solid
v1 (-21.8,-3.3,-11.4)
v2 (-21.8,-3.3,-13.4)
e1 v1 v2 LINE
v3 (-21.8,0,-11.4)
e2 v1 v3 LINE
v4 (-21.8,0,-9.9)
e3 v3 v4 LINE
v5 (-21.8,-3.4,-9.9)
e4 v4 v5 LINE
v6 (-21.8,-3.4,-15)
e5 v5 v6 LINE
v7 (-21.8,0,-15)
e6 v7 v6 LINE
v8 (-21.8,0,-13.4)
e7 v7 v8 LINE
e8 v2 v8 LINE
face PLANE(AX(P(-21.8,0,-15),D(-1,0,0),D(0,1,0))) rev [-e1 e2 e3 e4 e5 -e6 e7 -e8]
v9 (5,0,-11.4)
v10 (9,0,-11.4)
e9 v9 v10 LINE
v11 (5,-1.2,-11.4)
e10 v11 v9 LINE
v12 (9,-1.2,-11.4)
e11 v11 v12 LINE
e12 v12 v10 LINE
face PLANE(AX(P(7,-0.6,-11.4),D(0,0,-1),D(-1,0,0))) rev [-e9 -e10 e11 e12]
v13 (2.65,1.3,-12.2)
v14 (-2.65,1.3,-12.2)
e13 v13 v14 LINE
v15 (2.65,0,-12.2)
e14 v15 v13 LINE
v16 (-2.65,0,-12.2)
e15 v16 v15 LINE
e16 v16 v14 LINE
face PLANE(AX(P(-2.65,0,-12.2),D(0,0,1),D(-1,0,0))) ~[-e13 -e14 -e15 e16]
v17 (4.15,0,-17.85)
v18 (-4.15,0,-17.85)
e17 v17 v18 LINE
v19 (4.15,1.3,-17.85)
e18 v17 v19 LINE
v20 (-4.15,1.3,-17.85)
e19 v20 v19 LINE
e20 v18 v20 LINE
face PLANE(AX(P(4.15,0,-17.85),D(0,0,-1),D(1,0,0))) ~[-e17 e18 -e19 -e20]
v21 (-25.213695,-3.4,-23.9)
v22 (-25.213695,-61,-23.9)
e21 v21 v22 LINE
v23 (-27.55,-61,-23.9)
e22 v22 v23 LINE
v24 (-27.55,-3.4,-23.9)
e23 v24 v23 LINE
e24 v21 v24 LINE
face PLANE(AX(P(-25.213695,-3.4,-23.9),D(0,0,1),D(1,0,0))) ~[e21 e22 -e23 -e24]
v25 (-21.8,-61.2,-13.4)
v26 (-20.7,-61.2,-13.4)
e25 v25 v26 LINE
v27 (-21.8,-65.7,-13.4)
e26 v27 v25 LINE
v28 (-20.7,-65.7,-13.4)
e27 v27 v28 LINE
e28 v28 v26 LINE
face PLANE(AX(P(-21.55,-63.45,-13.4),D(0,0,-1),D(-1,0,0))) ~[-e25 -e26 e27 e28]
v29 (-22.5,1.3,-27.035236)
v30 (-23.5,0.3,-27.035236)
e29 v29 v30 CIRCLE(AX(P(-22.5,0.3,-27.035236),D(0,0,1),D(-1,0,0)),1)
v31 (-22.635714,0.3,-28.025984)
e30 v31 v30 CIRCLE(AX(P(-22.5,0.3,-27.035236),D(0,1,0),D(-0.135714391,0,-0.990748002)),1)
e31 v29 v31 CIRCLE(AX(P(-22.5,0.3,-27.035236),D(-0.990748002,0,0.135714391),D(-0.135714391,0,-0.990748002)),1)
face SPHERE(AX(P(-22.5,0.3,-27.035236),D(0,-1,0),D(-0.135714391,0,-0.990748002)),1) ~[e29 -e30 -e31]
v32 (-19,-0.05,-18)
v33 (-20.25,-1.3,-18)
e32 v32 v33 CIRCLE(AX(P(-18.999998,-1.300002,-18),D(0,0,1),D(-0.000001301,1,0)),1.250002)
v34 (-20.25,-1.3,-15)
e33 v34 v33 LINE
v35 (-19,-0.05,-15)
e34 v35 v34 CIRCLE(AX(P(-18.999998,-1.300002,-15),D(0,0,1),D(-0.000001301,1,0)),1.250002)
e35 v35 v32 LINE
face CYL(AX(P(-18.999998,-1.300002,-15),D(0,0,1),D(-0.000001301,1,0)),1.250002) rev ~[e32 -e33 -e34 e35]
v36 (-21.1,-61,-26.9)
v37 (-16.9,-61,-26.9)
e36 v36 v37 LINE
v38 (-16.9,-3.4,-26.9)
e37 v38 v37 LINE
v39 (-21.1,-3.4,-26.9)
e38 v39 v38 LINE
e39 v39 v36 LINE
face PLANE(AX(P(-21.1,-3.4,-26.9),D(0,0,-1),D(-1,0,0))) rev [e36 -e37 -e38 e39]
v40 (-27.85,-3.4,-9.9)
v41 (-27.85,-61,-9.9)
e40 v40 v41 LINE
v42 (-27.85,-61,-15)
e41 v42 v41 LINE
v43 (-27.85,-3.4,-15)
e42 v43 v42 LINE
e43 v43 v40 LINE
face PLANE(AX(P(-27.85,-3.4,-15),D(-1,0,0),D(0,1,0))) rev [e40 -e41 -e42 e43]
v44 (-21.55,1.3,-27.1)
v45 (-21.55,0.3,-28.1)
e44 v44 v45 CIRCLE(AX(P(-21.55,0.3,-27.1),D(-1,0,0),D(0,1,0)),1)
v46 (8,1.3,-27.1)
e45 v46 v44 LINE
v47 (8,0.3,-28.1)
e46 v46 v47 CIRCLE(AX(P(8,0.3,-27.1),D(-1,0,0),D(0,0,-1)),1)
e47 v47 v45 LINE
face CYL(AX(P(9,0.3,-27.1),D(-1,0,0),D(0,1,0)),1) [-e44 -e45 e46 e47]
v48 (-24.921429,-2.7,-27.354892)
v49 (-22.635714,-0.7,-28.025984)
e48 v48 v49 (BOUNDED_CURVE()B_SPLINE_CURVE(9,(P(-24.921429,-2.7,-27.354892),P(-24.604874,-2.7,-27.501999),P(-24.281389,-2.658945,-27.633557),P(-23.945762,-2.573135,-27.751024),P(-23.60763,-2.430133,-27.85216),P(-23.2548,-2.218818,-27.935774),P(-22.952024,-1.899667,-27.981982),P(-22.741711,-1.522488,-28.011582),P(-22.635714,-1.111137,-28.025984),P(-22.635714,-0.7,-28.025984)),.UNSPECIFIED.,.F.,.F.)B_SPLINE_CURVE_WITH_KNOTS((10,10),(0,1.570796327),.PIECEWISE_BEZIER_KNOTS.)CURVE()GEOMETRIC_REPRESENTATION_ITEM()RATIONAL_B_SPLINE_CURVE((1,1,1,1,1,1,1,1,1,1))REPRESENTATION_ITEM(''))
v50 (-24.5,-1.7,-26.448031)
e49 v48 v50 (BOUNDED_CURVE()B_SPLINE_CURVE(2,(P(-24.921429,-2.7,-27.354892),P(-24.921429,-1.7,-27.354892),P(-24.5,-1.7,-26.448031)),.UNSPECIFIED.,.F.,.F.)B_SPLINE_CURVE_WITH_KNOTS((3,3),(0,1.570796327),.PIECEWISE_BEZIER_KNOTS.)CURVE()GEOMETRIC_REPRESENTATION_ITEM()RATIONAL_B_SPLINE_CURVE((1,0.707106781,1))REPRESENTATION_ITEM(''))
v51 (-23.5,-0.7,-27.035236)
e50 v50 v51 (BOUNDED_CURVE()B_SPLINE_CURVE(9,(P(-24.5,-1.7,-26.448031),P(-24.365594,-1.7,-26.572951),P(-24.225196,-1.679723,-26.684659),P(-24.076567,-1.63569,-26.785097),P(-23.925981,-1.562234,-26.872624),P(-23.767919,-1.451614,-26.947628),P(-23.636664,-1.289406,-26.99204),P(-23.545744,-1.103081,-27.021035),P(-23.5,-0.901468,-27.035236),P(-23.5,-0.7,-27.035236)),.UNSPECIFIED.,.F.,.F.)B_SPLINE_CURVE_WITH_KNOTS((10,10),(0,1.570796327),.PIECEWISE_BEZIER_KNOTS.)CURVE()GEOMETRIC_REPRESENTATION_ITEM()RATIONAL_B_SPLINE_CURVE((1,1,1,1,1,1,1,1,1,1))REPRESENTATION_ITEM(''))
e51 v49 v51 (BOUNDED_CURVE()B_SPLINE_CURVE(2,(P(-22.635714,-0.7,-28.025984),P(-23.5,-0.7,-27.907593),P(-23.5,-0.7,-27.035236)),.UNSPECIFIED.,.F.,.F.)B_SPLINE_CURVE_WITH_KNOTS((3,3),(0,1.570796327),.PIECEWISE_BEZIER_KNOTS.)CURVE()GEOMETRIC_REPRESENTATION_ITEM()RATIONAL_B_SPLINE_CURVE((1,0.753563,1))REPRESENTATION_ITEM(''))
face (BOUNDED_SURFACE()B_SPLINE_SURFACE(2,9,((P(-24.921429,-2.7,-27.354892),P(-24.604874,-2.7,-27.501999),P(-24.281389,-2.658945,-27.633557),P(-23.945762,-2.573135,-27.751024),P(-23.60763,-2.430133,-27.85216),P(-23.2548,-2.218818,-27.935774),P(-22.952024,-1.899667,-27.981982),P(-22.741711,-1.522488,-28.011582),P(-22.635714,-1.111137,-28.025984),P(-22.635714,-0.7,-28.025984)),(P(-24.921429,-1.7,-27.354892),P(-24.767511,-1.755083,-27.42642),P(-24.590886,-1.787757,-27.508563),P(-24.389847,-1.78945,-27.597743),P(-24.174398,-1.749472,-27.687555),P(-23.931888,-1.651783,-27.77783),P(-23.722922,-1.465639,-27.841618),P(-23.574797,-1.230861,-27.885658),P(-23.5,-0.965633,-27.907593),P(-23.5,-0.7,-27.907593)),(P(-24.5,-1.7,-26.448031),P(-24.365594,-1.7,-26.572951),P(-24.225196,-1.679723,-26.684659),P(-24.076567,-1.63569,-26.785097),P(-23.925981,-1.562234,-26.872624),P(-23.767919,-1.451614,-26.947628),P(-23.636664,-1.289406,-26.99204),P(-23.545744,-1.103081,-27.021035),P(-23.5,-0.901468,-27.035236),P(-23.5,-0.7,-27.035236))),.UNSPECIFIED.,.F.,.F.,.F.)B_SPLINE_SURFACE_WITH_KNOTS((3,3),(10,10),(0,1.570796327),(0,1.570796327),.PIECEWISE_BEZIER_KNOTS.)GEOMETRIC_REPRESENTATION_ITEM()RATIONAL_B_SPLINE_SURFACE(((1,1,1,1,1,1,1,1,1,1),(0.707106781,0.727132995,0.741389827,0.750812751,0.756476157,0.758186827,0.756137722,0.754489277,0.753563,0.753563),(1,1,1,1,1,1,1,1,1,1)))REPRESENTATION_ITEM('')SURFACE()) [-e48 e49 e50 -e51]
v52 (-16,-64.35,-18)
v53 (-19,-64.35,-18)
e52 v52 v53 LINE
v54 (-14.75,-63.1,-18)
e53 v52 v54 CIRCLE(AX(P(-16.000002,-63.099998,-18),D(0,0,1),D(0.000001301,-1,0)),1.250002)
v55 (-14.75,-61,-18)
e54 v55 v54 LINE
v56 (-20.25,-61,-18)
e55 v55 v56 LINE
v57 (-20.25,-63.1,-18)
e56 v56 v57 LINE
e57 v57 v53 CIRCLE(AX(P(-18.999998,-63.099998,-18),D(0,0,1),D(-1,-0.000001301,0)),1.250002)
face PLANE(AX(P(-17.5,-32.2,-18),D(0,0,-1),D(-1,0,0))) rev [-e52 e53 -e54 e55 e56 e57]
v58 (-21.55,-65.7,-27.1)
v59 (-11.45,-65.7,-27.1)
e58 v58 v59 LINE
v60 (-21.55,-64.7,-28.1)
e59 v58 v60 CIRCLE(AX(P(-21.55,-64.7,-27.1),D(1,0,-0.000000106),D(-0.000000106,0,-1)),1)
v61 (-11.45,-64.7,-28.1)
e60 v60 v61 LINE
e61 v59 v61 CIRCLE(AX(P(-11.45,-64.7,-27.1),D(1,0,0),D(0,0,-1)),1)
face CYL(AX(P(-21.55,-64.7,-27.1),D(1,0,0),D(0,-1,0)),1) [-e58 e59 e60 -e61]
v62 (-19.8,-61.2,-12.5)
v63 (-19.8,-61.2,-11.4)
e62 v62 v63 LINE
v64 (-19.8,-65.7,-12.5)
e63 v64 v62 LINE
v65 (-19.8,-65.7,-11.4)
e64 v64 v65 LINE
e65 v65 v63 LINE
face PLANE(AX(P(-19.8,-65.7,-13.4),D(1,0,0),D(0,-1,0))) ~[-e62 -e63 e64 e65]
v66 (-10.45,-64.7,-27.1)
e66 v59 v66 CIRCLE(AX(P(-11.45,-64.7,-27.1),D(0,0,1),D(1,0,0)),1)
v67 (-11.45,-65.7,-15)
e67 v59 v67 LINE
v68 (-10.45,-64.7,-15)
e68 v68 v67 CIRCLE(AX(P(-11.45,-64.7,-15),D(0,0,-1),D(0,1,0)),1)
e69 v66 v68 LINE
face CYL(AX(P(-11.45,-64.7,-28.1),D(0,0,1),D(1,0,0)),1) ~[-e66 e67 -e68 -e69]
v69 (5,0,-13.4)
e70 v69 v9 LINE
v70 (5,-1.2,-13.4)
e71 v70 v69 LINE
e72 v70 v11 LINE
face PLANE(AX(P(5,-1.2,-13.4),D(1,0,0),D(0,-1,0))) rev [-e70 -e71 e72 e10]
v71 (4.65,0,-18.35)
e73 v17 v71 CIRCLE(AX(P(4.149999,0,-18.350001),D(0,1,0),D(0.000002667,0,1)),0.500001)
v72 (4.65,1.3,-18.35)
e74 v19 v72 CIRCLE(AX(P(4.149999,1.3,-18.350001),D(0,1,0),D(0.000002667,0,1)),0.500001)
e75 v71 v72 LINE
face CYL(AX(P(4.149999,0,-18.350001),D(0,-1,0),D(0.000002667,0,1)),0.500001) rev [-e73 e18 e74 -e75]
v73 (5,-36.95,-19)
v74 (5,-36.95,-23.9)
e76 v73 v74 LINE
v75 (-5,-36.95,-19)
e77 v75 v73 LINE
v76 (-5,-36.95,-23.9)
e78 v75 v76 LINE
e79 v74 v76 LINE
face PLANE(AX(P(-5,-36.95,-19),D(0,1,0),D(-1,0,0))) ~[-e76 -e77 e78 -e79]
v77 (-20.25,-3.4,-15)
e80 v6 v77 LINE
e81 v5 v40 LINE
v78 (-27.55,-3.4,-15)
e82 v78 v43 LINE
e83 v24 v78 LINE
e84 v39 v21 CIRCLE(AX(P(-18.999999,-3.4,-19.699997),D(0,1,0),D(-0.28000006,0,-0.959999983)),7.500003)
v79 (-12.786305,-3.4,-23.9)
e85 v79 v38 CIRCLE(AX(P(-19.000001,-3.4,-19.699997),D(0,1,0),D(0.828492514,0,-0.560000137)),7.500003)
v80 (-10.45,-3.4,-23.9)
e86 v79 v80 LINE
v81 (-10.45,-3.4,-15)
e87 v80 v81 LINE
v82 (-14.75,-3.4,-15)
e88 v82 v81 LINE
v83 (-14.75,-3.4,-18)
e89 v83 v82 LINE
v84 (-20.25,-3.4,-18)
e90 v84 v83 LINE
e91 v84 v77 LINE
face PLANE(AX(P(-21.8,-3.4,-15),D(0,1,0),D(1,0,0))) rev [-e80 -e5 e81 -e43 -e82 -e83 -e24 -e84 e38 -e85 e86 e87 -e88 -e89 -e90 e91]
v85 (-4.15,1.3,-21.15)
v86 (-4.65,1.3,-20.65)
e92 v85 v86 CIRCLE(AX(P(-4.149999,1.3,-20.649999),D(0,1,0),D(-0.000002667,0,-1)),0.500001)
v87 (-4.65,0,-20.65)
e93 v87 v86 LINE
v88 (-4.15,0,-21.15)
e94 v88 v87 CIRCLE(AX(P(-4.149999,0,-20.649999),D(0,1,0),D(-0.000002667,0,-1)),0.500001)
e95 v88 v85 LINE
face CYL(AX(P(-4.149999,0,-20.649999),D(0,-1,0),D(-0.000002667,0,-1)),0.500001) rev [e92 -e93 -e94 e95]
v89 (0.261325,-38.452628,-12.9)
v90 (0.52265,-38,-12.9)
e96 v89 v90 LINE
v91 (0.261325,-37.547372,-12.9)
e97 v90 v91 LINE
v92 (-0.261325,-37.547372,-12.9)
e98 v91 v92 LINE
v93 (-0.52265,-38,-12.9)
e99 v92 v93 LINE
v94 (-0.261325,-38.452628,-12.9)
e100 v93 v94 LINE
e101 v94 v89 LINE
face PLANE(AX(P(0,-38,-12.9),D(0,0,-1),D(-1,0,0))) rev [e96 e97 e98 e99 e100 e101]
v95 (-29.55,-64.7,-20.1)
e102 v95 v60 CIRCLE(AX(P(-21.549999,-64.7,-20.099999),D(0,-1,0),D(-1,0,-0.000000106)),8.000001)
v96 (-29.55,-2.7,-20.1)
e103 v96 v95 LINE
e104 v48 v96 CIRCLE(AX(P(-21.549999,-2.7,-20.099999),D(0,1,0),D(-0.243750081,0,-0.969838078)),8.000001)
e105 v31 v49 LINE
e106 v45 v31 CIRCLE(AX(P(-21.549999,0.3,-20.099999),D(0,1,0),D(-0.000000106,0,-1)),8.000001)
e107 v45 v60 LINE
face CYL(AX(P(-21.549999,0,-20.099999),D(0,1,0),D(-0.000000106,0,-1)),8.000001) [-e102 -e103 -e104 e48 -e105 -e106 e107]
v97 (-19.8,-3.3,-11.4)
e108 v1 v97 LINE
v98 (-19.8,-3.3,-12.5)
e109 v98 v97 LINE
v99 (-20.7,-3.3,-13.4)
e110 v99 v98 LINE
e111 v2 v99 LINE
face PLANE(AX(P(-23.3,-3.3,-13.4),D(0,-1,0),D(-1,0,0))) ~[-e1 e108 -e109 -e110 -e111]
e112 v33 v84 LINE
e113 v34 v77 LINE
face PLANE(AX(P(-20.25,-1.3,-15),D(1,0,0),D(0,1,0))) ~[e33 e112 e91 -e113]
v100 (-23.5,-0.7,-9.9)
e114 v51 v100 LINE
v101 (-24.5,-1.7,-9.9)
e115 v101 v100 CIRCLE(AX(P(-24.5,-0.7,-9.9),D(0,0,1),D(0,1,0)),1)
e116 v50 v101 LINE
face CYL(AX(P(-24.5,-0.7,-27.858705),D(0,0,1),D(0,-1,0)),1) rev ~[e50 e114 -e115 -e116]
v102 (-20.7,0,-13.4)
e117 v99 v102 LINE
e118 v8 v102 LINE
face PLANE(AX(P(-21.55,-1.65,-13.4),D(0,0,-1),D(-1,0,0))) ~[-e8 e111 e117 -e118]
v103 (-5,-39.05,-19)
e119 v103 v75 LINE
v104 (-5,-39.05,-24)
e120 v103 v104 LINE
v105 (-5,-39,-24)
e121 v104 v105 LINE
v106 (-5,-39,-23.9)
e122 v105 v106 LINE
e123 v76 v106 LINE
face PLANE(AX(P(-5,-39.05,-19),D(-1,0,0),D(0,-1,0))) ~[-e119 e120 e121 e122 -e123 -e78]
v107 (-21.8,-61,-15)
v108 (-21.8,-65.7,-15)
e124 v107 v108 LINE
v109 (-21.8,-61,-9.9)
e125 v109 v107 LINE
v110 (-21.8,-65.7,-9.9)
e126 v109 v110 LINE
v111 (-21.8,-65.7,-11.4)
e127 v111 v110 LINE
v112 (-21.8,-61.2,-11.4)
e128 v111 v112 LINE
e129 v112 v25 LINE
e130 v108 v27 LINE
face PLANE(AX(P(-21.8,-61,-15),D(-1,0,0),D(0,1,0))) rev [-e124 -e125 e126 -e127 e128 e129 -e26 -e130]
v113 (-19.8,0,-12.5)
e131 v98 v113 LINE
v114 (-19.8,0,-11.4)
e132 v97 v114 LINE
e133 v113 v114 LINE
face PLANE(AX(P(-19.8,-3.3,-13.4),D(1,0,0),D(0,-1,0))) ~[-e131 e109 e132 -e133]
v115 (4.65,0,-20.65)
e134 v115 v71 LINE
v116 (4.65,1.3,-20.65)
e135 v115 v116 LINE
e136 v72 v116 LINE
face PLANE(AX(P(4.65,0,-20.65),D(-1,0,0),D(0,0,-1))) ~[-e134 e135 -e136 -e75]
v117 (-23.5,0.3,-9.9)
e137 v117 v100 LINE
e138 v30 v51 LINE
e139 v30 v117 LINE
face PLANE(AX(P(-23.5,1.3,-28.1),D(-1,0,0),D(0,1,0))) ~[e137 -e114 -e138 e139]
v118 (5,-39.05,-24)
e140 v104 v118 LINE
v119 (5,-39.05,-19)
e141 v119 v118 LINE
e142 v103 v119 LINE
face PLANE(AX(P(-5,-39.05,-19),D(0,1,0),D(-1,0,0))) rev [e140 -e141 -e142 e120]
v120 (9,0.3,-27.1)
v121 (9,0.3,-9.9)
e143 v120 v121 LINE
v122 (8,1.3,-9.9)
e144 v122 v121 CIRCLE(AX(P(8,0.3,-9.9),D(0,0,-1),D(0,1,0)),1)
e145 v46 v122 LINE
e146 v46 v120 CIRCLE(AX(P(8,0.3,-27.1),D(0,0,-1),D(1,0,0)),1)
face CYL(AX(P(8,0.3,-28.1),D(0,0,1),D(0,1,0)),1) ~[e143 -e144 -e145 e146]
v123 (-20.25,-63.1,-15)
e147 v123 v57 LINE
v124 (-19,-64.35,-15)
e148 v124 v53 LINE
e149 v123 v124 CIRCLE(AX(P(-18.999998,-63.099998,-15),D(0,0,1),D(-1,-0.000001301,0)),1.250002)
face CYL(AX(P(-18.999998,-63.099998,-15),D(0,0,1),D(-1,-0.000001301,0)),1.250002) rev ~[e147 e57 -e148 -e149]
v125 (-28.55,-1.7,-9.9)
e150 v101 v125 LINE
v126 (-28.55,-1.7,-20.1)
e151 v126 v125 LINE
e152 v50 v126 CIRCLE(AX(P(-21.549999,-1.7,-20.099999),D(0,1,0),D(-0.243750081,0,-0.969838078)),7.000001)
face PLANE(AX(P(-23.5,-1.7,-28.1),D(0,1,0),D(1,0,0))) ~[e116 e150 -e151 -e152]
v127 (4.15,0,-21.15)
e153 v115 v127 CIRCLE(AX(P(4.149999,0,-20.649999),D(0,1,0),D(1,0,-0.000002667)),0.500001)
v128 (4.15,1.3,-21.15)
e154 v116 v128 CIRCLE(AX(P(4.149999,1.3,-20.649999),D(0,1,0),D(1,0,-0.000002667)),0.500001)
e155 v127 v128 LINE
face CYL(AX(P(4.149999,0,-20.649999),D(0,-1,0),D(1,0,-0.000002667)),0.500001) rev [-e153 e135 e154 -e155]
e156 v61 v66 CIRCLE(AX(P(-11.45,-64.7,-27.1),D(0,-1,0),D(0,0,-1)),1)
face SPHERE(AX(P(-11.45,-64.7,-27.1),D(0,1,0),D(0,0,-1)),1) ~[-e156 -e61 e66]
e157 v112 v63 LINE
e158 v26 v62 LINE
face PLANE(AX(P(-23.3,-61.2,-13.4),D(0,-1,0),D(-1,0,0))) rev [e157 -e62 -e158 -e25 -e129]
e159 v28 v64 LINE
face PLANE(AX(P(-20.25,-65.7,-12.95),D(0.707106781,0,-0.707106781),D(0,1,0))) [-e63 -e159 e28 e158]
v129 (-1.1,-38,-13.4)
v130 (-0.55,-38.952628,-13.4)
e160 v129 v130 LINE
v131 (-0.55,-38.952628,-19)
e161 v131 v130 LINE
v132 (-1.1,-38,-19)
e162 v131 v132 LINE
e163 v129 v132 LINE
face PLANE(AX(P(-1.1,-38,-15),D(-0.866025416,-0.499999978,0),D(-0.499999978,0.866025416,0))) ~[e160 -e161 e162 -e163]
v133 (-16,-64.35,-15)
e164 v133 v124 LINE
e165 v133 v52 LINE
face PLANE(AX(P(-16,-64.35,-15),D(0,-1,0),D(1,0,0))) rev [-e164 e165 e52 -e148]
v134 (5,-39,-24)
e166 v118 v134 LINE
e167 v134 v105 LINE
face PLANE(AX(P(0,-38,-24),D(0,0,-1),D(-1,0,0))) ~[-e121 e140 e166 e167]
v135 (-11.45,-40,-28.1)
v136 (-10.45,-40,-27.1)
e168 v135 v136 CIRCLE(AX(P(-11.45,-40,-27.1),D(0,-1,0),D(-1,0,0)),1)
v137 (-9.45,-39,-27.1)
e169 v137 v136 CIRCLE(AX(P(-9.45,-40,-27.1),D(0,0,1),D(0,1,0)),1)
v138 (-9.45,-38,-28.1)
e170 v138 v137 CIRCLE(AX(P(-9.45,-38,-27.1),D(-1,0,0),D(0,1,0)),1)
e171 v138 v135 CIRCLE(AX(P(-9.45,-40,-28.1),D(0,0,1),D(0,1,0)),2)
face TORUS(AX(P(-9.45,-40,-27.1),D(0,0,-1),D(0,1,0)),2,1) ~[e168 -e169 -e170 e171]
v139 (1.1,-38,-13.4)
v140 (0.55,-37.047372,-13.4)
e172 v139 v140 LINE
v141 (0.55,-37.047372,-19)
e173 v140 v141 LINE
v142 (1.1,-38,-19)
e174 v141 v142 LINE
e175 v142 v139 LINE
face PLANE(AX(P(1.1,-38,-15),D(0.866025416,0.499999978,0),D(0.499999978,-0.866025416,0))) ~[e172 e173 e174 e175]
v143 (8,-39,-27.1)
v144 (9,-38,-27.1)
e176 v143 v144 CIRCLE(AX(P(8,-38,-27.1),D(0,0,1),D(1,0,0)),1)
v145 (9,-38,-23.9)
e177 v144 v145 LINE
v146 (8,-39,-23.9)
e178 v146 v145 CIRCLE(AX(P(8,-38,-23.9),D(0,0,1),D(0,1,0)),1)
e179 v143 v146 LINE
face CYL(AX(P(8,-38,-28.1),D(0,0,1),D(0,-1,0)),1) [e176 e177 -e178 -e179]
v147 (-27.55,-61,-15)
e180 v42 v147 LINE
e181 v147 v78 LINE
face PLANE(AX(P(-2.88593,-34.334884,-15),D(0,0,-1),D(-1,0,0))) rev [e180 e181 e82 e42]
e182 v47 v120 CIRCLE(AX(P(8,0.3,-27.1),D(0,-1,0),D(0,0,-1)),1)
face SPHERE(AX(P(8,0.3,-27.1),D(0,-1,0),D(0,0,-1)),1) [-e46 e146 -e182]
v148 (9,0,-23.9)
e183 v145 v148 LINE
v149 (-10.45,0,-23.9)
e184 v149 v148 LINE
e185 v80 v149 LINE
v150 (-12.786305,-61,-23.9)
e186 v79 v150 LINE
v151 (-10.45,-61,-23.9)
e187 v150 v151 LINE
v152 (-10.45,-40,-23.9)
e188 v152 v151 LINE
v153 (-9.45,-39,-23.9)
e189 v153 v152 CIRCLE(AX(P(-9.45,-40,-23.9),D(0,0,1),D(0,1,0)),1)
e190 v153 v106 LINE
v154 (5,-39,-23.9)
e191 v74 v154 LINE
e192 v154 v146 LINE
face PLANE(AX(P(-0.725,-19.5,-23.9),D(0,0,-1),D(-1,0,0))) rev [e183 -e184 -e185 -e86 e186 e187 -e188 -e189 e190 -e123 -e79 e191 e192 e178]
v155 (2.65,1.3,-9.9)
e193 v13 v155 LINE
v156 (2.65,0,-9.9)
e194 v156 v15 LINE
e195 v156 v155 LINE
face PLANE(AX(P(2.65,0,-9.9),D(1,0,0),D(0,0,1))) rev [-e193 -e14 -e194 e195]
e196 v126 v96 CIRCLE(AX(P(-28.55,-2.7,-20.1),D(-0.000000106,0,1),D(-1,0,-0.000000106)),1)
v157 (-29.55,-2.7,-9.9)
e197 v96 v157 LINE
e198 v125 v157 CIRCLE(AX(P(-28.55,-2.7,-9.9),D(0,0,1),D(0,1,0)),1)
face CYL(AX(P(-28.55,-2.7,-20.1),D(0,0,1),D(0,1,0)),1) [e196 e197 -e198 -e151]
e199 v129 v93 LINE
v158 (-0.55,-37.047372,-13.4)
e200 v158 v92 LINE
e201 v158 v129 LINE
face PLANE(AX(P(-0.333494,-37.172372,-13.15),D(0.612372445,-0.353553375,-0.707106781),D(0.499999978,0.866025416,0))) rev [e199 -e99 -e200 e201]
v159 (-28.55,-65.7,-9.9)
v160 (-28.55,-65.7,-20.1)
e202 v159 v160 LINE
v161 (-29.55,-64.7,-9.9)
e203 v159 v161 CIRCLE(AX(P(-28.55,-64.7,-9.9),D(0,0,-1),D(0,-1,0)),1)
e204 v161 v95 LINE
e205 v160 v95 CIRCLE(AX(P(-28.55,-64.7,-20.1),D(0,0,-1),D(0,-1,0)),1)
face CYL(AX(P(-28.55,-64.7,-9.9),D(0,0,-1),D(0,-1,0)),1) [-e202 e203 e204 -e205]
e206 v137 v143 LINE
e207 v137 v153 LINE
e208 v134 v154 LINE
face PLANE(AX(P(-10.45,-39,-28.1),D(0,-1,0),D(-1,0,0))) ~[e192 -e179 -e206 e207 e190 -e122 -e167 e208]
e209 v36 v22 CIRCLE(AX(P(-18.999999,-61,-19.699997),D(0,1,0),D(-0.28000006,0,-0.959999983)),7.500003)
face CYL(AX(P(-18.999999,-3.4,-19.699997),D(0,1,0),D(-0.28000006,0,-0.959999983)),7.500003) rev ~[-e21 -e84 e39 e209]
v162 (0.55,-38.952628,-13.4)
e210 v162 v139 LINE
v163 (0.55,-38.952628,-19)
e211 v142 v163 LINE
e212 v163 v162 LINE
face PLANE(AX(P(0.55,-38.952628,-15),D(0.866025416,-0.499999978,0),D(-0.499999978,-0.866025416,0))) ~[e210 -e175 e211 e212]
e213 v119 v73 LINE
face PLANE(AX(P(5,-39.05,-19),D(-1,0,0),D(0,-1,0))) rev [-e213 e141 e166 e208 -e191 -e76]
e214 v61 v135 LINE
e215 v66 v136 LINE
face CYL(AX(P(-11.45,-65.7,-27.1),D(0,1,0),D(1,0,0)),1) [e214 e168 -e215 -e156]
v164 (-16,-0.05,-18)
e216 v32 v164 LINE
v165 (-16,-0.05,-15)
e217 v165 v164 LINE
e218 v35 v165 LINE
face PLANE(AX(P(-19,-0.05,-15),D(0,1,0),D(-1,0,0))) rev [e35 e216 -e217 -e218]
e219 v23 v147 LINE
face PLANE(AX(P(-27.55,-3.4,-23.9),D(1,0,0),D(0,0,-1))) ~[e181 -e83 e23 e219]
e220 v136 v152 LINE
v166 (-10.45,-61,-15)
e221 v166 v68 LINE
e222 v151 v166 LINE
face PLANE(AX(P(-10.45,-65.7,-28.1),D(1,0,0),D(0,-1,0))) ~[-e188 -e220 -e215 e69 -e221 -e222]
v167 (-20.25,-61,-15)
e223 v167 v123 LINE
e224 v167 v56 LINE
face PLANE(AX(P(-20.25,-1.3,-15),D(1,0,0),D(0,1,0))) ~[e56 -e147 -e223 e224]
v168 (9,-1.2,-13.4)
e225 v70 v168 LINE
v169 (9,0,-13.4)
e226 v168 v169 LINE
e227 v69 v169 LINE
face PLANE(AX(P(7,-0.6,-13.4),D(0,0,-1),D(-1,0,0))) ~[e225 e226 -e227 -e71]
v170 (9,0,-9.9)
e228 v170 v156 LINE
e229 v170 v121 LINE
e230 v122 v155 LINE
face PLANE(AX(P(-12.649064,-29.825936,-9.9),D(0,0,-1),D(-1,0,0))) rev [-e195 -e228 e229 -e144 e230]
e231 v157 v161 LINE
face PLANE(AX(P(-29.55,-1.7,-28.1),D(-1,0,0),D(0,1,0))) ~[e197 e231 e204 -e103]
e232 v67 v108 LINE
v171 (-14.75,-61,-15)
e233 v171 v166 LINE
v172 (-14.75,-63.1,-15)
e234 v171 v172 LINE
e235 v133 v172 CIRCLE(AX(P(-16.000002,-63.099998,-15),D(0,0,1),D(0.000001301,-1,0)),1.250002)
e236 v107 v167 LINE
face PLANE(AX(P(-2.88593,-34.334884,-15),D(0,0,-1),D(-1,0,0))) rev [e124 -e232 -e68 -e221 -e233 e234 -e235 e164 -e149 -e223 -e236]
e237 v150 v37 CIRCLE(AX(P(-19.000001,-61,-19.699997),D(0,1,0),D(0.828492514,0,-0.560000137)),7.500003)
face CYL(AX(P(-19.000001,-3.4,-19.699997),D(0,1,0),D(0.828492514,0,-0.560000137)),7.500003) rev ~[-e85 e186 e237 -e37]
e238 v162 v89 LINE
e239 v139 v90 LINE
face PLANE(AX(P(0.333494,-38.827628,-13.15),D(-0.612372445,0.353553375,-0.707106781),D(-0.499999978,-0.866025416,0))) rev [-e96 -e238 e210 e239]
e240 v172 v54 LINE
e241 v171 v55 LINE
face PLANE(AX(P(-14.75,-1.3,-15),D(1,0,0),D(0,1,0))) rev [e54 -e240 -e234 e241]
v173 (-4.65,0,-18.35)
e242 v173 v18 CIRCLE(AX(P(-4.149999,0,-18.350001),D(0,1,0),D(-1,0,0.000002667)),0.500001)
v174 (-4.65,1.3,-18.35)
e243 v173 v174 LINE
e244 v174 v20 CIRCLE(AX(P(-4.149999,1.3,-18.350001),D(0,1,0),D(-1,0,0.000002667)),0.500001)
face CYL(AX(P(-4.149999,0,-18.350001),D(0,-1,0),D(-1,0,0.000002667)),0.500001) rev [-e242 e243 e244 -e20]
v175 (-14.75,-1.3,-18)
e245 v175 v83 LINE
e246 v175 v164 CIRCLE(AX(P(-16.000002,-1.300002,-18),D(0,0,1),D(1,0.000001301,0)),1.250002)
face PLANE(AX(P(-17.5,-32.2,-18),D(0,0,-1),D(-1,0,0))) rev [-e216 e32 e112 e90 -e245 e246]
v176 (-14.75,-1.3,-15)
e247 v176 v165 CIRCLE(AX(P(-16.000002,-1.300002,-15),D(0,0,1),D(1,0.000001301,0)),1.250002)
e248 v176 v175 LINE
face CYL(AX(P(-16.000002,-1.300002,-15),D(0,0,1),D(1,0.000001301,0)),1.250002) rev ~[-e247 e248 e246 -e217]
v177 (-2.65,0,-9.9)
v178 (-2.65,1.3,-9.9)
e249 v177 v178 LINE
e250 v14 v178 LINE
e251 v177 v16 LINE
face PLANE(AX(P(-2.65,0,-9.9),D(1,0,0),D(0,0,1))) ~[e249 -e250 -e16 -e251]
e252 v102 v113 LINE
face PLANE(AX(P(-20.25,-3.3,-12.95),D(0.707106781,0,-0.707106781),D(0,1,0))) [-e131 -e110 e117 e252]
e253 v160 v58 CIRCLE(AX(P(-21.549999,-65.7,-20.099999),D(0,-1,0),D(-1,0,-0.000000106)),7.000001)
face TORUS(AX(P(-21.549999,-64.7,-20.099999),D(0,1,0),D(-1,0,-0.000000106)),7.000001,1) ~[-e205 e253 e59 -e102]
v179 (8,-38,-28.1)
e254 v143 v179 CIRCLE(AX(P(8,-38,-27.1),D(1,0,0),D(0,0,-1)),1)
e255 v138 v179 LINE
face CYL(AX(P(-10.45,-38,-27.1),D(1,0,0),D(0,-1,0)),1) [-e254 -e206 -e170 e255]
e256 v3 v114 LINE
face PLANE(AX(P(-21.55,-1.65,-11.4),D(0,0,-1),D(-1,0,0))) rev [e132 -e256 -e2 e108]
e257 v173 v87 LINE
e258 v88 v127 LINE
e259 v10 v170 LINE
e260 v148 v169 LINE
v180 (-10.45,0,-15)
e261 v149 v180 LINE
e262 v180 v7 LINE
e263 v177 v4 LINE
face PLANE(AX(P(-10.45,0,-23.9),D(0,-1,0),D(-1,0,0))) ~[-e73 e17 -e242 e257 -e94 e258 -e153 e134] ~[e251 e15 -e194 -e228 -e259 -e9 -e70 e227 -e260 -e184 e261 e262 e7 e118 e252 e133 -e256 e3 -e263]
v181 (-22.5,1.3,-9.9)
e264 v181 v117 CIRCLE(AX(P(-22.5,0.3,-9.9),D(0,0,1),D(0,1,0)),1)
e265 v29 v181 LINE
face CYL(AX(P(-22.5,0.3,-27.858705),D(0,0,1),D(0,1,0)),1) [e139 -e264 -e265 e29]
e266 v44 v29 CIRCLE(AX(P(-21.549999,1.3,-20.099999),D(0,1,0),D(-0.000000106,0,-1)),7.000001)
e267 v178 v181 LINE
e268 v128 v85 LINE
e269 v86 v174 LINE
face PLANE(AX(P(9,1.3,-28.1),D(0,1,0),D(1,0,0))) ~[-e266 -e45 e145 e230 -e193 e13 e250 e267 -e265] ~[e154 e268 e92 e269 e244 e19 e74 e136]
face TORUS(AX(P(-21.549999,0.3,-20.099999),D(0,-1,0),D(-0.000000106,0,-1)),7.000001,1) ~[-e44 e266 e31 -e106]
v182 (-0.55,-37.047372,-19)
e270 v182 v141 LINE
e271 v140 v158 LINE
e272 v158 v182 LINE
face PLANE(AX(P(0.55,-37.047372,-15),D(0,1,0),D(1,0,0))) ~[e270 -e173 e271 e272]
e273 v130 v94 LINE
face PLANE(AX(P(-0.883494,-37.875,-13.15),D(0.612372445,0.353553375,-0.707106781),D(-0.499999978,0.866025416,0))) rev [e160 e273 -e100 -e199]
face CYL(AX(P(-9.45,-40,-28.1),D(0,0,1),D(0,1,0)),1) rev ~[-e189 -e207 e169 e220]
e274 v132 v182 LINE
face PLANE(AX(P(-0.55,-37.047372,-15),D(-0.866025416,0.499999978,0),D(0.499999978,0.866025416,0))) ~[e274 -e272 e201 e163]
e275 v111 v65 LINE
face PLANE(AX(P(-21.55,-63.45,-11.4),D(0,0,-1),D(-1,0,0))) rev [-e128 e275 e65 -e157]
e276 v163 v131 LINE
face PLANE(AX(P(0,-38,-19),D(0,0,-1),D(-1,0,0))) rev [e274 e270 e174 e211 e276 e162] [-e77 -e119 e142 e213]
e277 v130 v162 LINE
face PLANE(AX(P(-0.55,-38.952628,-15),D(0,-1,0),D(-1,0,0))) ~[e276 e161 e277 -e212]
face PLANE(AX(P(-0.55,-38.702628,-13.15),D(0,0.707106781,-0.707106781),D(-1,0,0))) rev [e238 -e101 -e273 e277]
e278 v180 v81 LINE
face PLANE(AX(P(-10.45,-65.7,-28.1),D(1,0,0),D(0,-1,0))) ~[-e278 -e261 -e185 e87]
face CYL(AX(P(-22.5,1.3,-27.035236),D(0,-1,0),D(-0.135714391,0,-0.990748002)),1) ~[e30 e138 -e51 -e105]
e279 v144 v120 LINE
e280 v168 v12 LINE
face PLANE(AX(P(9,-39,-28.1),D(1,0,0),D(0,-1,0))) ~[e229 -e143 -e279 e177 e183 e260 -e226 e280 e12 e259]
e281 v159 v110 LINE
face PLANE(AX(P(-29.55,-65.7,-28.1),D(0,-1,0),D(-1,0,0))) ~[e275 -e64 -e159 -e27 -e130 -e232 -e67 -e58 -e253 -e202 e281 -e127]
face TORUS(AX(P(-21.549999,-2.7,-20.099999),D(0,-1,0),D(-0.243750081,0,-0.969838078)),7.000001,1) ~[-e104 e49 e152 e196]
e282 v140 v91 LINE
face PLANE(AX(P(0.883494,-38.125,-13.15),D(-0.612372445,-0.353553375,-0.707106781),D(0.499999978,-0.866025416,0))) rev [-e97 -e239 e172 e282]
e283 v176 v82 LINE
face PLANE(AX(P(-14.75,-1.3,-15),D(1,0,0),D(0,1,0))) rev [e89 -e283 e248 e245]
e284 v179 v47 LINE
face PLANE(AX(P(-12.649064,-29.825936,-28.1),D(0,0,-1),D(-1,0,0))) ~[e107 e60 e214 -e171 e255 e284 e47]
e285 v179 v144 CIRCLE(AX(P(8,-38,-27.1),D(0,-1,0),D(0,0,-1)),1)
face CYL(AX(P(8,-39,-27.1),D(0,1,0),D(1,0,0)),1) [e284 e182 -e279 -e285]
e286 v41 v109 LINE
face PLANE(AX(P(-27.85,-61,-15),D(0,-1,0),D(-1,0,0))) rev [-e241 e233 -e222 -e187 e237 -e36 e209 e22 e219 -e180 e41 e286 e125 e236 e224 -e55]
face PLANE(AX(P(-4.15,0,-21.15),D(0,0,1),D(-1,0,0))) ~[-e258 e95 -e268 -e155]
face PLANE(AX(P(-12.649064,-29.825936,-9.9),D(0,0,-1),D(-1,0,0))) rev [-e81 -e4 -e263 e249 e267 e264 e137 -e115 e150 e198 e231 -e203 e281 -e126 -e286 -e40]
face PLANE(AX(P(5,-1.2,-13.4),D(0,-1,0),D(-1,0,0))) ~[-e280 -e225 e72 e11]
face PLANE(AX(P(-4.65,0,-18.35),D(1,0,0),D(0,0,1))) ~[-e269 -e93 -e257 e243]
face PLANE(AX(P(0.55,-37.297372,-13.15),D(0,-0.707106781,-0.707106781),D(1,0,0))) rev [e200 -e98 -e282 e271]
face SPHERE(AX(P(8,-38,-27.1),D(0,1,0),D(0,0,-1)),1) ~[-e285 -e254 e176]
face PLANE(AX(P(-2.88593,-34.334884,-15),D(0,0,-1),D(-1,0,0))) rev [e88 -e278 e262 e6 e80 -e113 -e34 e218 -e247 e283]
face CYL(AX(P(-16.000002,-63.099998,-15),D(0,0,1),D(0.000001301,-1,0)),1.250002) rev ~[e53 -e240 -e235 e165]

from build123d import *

# Parameters (mm, degrees)
PAD_DEPTH            = 18.2
SKETCH003_W          = 19.45
SKETCH003_H          = 39
POCKET_DEPTH         = 14.001
POCKET001_DEPTH      = 5.101
POCKET002_DEPTH      = 57.6
SKETCH011_W          = 5.3
SKETCH011_H          = 2.3
POCKET004_DEPTH      = 5
PAD005_DEPTH         = 10
PAD005_DEPTH_BACK    = 2.1
SKETCH014_W          = 10
SKETCH014_H          = 2.1
PAD006_DEPTH         = 5
CHAMFER001_SIZE      = 0.5
POCKET005_DEPTH      = 3
POCKET006_DEPTH      = 100
POCKET006_DEPTH_BACK = 100
FILLET001_R          = 1
SKETCH017_W          = 4
SKETCH017_H          = 1.2
SKETCH017_W_2        = 3.5
SKETCH017_H_2        = 4.5
SKETCH017_H_3        = 3.3
PAD008_DEPTH         = 2
CHAMFER_SIZE         = 0.9


with BuildPart() as body:
    # Sketch002 → Pad (new body)
    with BuildSketch(Plane.XY.offset(13.1)):
        Polygon((9, 0), (9, 1.3), (-23.5, 1.3), (-23.5, -1.7), (-29.55, -1.7), (-29.55, -65.7), (-10.45, -65.7), (-10.45, -39), (9, -39), align=None)
    extrude(amount=-PAD_DEPTH)

    # Sketch003 → Pocket (cut, through all)
    with BuildSketch(Plane.XY.offset(8.9)):
        with Locations((-0.725, -19.5)):
            Rectangle(SKETCH003_W, SKETCH003_H)
    extrude(amount=-POCKET_DEPTH, mode=Mode.SUBTRACT)

    # Sketch007 → Pocket001 (cut, through all)
    with BuildSketch(Plane.XY):
        Polygon((21.5, 0), (-21.8, 0), (-21.8, -3.4), (-27.85, -3.4), (-27.85, -61), (-21.8, -61), (-21.8, -68.9), (21.5, -68.9), align=None)
    extrude(amount=-POCKET001_DEPTH, mode=Mode.SUBTRACT)

    # Sketch008 → Pocket002 (cut)
    with BuildSketch(Plane.XZ.offset(3.4)):
        with BuildLine():
            ThreePointArc((-12.786305, 8.9), (-14.580794, 10.759754), (-16.9, 11.9))
            Line((-21.1, 11.9), (-16.9, 11.9))
            ThreePointArc((-21.1, 11.9), (-23.419206, 10.759754), (-25.213695, 8.9))
            Line((-25.213695, 8.9), (-27.55, 8.9))
            Line((-27.55, 8.9), (-27.55, -3.6))
            Line((-27.55, -3.6), (-10.45, -3.6))
            Line((-10.45, 8.9), (-10.45, -3.6))
            Line((-12.786305, 8.9), (-10.45, 8.9))
        make_face()
    extrude(amount=POCKET002_DEPTH, mode=Mode.SUBTRACT)

    # Sketch011 → Pocket004 (cut)
    with BuildSketch(Plane.XZ):
        with Locations((0, -3.95)):
            Rectangle(SKETCH011_W, SKETCH011_H)
        with BuildLine():
            Line((-4.65, 3.35), (-4.65, 5.65))
            ThreePointArc((-4.15, 6.15), (-4.503553, 6.003553), (-4.65, 5.65))
            Line((-4.15, 6.15), (4.15, 6.15))
            ThreePointArc((4.65, 5.65), (4.503553, 6.003553), (4.15, 6.15))
            Line((4.65, 5.65), (4.65, 3.35))
            ThreePointArc((4.15, 2.85), (4.503553, 2.996447), (4.65, 3.35))
            Line((4.15, 2.85), (-4.15, 2.85))
            ThreePointArc((-4.65, 3.35), (-4.503553, 2.996447), (-4.15, 2.85))
        make_face()
    extrude(amount=-POCKET004_DEPTH, mode=Mode.SUBTRACT)

    # Sketch012 → Pad005 (join, two sides)
    with BuildSketch(Plane.XY) as pad005_sk:
        Polygon((1.1, -38), (0.55, -37.047372), (-0.55, -37.047372), (-1.1, -38), (-0.55, -38.952628), (0.55, -38.952628), align=None)
    extrude(amount=PAD005_DEPTH)
    extrude(pad005_sk.sketch, amount=-PAD005_DEPTH_BACK)

    # Sketch014 → Pad006 (join)
    with BuildSketch(Plane.XY.offset(4)):
        with Locations((0, -38)):
            Rectangle(SKETCH014_W, SKETCH014_H)
    extrude(amount=PAD006_DEPTH)

    # Chamfer001
    chamfer001_edges = [body.edges().sort_by_distance(p)[0] for p in [
        (0.825, -37.523686, -2.1),
        (0, -37.047372, -2.1),
        (-0.825, -37.523686, -2.1),
        (-0.825, -38.476314, -2.1),
        (0, -38.952628, -2.1),
        (0.825, -38.476314, -2.1),
    ]]
    chamfer(chamfer001_edges, length=CHAMFER001_SIZE)

    # Sketch013 → Pocket005 (cut)
    with BuildSketch(Plane.XY):
        with BuildLine():
            Line((-20.25, -62.3), (-20.25, -63.1))
            ThreePointArc((-20.25, -63.1), (-19.883883, -63.983883), (-19, -64.35))
            Line((-16, -64.35), (-19, -64.35))
            ThreePointArc((-16, -64.35), (-15.116117, -63.983883), (-14.75, -63.1))
            Line((-14.75, -1.3), (-14.75, -63.1))
            ThreePointArc((-14.75, -1.3), (-15.116117, -0.416117), (-16, -0.05))
            Line((-19, -0.05), (-16, -0.05))
            ThreePointArc((-19, -0.05), (-19.883883, -0.416117), (-20.25, -1.3))
            Line((-20.25, -1.3), (-20.25, -2.1))
            Line((-20.25, -2.1), (-20.25, -62.3))
        make_face()
    extrude(amount=POCKET005_DEPTH, mode=Mode.SUBTRACT)

    # Sketch016 → Pocket006 (cut, two sides)
    with BuildSketch(Plane.XZ) as pocket006_sk:
        with BuildLine():
            ThreePointArc((-21.55, 13.1), (-27.206854, 10.756854), (-29.55, 5.1))
            Line((-29.55, 5.1), (-32.473244, 5.1))
            Line((-32.473244, 5.1), (-32.473244, 16.532589))
            Line((-32.473244, 16.532589), (-21.55, 16.532589))
            Line((-21.55, 16.532589), (-21.55, 13.1))
        make_face()
    extrude(amount=POCKET006_DEPTH, mode=Mode.SUBTRACT)
    extrude(pocket006_sk.sketch, amount=-POCKET006_DEPTH_BACK, mode=Mode.SUBTRACT)

    # Fillet001
    fillet001_edges = [body.edges().sort_by_distance(p)[0] for p in [
        (9, -19.5, 13.1),
        (-0.725, -39, 13.1),
        (-10.45, -52.35, 13.1),
        (-16, -65.7, 13.1),
        (-21.55, -32.2, 13.1),
        (-6.275, 1.3, 13.1),
        (9, 0.65, 13.1),
        (-22.532436, 1.3, 13.039447),
        (-23.5, 1.3, 3.879352),
        (-23.5, -0.2, 12.858705),
        (-23.5, -1.7, 3.879352),
        (-29.55, -1.7, 0),
        (-27.858724, -1.7, 10.01935),
        (-29.55, -65.7, 0),
        (-27.206854, -65.7, 10.756854),
        (-10.45, -65.7, 6.55),
        (-10.45, -39, 11),
        (9, -39, 11),
        (9, 1.3, 4),
    ]]
    fillet(fillet001_edges, radius=FILLET001_R)

    # Sketch017 → Pad008 (join)
    with BuildSketch(Plane.XY.offset(-1.6)):
        with Locations((7, -0.6)):
            Rectangle(SKETCH017_W, SKETCH017_H)
        with Locations((-21.55, -63.45)):
            Rectangle(SKETCH017_W_2, SKETCH017_H_2)
        with Locations((-21.55, -1.65)):
            Rectangle(SKETCH017_W_2, SKETCH017_H_3)
    extrude(amount=-PAD008_DEPTH)

    # Chamfer
    chamfer_edges = [body.edges().sort_by_distance(p)[0] for p in [
        (-19.8, -1.65, -1.6),
        (-19.8, -63.45, -1.6),
    ]]
    chamfer(chamfer_edges, length=CHAMFER_SIZE)


with BuildPart() as part_mirroring:
    # Part__Mirroring: instance of Body
    add(body.part.mirror(Plane(origin=(-10.604568, -32.200001, 0), x_dir=(0, 1, 0), z_dir=(0, 0, 1))))


with BuildPart() as part_mirroring_1:
    # Part__Mirroring placement: moved
    add(part_mirroring.part.moved(Location((0, 0, -15))))


solid = part_mirroring_1.part
